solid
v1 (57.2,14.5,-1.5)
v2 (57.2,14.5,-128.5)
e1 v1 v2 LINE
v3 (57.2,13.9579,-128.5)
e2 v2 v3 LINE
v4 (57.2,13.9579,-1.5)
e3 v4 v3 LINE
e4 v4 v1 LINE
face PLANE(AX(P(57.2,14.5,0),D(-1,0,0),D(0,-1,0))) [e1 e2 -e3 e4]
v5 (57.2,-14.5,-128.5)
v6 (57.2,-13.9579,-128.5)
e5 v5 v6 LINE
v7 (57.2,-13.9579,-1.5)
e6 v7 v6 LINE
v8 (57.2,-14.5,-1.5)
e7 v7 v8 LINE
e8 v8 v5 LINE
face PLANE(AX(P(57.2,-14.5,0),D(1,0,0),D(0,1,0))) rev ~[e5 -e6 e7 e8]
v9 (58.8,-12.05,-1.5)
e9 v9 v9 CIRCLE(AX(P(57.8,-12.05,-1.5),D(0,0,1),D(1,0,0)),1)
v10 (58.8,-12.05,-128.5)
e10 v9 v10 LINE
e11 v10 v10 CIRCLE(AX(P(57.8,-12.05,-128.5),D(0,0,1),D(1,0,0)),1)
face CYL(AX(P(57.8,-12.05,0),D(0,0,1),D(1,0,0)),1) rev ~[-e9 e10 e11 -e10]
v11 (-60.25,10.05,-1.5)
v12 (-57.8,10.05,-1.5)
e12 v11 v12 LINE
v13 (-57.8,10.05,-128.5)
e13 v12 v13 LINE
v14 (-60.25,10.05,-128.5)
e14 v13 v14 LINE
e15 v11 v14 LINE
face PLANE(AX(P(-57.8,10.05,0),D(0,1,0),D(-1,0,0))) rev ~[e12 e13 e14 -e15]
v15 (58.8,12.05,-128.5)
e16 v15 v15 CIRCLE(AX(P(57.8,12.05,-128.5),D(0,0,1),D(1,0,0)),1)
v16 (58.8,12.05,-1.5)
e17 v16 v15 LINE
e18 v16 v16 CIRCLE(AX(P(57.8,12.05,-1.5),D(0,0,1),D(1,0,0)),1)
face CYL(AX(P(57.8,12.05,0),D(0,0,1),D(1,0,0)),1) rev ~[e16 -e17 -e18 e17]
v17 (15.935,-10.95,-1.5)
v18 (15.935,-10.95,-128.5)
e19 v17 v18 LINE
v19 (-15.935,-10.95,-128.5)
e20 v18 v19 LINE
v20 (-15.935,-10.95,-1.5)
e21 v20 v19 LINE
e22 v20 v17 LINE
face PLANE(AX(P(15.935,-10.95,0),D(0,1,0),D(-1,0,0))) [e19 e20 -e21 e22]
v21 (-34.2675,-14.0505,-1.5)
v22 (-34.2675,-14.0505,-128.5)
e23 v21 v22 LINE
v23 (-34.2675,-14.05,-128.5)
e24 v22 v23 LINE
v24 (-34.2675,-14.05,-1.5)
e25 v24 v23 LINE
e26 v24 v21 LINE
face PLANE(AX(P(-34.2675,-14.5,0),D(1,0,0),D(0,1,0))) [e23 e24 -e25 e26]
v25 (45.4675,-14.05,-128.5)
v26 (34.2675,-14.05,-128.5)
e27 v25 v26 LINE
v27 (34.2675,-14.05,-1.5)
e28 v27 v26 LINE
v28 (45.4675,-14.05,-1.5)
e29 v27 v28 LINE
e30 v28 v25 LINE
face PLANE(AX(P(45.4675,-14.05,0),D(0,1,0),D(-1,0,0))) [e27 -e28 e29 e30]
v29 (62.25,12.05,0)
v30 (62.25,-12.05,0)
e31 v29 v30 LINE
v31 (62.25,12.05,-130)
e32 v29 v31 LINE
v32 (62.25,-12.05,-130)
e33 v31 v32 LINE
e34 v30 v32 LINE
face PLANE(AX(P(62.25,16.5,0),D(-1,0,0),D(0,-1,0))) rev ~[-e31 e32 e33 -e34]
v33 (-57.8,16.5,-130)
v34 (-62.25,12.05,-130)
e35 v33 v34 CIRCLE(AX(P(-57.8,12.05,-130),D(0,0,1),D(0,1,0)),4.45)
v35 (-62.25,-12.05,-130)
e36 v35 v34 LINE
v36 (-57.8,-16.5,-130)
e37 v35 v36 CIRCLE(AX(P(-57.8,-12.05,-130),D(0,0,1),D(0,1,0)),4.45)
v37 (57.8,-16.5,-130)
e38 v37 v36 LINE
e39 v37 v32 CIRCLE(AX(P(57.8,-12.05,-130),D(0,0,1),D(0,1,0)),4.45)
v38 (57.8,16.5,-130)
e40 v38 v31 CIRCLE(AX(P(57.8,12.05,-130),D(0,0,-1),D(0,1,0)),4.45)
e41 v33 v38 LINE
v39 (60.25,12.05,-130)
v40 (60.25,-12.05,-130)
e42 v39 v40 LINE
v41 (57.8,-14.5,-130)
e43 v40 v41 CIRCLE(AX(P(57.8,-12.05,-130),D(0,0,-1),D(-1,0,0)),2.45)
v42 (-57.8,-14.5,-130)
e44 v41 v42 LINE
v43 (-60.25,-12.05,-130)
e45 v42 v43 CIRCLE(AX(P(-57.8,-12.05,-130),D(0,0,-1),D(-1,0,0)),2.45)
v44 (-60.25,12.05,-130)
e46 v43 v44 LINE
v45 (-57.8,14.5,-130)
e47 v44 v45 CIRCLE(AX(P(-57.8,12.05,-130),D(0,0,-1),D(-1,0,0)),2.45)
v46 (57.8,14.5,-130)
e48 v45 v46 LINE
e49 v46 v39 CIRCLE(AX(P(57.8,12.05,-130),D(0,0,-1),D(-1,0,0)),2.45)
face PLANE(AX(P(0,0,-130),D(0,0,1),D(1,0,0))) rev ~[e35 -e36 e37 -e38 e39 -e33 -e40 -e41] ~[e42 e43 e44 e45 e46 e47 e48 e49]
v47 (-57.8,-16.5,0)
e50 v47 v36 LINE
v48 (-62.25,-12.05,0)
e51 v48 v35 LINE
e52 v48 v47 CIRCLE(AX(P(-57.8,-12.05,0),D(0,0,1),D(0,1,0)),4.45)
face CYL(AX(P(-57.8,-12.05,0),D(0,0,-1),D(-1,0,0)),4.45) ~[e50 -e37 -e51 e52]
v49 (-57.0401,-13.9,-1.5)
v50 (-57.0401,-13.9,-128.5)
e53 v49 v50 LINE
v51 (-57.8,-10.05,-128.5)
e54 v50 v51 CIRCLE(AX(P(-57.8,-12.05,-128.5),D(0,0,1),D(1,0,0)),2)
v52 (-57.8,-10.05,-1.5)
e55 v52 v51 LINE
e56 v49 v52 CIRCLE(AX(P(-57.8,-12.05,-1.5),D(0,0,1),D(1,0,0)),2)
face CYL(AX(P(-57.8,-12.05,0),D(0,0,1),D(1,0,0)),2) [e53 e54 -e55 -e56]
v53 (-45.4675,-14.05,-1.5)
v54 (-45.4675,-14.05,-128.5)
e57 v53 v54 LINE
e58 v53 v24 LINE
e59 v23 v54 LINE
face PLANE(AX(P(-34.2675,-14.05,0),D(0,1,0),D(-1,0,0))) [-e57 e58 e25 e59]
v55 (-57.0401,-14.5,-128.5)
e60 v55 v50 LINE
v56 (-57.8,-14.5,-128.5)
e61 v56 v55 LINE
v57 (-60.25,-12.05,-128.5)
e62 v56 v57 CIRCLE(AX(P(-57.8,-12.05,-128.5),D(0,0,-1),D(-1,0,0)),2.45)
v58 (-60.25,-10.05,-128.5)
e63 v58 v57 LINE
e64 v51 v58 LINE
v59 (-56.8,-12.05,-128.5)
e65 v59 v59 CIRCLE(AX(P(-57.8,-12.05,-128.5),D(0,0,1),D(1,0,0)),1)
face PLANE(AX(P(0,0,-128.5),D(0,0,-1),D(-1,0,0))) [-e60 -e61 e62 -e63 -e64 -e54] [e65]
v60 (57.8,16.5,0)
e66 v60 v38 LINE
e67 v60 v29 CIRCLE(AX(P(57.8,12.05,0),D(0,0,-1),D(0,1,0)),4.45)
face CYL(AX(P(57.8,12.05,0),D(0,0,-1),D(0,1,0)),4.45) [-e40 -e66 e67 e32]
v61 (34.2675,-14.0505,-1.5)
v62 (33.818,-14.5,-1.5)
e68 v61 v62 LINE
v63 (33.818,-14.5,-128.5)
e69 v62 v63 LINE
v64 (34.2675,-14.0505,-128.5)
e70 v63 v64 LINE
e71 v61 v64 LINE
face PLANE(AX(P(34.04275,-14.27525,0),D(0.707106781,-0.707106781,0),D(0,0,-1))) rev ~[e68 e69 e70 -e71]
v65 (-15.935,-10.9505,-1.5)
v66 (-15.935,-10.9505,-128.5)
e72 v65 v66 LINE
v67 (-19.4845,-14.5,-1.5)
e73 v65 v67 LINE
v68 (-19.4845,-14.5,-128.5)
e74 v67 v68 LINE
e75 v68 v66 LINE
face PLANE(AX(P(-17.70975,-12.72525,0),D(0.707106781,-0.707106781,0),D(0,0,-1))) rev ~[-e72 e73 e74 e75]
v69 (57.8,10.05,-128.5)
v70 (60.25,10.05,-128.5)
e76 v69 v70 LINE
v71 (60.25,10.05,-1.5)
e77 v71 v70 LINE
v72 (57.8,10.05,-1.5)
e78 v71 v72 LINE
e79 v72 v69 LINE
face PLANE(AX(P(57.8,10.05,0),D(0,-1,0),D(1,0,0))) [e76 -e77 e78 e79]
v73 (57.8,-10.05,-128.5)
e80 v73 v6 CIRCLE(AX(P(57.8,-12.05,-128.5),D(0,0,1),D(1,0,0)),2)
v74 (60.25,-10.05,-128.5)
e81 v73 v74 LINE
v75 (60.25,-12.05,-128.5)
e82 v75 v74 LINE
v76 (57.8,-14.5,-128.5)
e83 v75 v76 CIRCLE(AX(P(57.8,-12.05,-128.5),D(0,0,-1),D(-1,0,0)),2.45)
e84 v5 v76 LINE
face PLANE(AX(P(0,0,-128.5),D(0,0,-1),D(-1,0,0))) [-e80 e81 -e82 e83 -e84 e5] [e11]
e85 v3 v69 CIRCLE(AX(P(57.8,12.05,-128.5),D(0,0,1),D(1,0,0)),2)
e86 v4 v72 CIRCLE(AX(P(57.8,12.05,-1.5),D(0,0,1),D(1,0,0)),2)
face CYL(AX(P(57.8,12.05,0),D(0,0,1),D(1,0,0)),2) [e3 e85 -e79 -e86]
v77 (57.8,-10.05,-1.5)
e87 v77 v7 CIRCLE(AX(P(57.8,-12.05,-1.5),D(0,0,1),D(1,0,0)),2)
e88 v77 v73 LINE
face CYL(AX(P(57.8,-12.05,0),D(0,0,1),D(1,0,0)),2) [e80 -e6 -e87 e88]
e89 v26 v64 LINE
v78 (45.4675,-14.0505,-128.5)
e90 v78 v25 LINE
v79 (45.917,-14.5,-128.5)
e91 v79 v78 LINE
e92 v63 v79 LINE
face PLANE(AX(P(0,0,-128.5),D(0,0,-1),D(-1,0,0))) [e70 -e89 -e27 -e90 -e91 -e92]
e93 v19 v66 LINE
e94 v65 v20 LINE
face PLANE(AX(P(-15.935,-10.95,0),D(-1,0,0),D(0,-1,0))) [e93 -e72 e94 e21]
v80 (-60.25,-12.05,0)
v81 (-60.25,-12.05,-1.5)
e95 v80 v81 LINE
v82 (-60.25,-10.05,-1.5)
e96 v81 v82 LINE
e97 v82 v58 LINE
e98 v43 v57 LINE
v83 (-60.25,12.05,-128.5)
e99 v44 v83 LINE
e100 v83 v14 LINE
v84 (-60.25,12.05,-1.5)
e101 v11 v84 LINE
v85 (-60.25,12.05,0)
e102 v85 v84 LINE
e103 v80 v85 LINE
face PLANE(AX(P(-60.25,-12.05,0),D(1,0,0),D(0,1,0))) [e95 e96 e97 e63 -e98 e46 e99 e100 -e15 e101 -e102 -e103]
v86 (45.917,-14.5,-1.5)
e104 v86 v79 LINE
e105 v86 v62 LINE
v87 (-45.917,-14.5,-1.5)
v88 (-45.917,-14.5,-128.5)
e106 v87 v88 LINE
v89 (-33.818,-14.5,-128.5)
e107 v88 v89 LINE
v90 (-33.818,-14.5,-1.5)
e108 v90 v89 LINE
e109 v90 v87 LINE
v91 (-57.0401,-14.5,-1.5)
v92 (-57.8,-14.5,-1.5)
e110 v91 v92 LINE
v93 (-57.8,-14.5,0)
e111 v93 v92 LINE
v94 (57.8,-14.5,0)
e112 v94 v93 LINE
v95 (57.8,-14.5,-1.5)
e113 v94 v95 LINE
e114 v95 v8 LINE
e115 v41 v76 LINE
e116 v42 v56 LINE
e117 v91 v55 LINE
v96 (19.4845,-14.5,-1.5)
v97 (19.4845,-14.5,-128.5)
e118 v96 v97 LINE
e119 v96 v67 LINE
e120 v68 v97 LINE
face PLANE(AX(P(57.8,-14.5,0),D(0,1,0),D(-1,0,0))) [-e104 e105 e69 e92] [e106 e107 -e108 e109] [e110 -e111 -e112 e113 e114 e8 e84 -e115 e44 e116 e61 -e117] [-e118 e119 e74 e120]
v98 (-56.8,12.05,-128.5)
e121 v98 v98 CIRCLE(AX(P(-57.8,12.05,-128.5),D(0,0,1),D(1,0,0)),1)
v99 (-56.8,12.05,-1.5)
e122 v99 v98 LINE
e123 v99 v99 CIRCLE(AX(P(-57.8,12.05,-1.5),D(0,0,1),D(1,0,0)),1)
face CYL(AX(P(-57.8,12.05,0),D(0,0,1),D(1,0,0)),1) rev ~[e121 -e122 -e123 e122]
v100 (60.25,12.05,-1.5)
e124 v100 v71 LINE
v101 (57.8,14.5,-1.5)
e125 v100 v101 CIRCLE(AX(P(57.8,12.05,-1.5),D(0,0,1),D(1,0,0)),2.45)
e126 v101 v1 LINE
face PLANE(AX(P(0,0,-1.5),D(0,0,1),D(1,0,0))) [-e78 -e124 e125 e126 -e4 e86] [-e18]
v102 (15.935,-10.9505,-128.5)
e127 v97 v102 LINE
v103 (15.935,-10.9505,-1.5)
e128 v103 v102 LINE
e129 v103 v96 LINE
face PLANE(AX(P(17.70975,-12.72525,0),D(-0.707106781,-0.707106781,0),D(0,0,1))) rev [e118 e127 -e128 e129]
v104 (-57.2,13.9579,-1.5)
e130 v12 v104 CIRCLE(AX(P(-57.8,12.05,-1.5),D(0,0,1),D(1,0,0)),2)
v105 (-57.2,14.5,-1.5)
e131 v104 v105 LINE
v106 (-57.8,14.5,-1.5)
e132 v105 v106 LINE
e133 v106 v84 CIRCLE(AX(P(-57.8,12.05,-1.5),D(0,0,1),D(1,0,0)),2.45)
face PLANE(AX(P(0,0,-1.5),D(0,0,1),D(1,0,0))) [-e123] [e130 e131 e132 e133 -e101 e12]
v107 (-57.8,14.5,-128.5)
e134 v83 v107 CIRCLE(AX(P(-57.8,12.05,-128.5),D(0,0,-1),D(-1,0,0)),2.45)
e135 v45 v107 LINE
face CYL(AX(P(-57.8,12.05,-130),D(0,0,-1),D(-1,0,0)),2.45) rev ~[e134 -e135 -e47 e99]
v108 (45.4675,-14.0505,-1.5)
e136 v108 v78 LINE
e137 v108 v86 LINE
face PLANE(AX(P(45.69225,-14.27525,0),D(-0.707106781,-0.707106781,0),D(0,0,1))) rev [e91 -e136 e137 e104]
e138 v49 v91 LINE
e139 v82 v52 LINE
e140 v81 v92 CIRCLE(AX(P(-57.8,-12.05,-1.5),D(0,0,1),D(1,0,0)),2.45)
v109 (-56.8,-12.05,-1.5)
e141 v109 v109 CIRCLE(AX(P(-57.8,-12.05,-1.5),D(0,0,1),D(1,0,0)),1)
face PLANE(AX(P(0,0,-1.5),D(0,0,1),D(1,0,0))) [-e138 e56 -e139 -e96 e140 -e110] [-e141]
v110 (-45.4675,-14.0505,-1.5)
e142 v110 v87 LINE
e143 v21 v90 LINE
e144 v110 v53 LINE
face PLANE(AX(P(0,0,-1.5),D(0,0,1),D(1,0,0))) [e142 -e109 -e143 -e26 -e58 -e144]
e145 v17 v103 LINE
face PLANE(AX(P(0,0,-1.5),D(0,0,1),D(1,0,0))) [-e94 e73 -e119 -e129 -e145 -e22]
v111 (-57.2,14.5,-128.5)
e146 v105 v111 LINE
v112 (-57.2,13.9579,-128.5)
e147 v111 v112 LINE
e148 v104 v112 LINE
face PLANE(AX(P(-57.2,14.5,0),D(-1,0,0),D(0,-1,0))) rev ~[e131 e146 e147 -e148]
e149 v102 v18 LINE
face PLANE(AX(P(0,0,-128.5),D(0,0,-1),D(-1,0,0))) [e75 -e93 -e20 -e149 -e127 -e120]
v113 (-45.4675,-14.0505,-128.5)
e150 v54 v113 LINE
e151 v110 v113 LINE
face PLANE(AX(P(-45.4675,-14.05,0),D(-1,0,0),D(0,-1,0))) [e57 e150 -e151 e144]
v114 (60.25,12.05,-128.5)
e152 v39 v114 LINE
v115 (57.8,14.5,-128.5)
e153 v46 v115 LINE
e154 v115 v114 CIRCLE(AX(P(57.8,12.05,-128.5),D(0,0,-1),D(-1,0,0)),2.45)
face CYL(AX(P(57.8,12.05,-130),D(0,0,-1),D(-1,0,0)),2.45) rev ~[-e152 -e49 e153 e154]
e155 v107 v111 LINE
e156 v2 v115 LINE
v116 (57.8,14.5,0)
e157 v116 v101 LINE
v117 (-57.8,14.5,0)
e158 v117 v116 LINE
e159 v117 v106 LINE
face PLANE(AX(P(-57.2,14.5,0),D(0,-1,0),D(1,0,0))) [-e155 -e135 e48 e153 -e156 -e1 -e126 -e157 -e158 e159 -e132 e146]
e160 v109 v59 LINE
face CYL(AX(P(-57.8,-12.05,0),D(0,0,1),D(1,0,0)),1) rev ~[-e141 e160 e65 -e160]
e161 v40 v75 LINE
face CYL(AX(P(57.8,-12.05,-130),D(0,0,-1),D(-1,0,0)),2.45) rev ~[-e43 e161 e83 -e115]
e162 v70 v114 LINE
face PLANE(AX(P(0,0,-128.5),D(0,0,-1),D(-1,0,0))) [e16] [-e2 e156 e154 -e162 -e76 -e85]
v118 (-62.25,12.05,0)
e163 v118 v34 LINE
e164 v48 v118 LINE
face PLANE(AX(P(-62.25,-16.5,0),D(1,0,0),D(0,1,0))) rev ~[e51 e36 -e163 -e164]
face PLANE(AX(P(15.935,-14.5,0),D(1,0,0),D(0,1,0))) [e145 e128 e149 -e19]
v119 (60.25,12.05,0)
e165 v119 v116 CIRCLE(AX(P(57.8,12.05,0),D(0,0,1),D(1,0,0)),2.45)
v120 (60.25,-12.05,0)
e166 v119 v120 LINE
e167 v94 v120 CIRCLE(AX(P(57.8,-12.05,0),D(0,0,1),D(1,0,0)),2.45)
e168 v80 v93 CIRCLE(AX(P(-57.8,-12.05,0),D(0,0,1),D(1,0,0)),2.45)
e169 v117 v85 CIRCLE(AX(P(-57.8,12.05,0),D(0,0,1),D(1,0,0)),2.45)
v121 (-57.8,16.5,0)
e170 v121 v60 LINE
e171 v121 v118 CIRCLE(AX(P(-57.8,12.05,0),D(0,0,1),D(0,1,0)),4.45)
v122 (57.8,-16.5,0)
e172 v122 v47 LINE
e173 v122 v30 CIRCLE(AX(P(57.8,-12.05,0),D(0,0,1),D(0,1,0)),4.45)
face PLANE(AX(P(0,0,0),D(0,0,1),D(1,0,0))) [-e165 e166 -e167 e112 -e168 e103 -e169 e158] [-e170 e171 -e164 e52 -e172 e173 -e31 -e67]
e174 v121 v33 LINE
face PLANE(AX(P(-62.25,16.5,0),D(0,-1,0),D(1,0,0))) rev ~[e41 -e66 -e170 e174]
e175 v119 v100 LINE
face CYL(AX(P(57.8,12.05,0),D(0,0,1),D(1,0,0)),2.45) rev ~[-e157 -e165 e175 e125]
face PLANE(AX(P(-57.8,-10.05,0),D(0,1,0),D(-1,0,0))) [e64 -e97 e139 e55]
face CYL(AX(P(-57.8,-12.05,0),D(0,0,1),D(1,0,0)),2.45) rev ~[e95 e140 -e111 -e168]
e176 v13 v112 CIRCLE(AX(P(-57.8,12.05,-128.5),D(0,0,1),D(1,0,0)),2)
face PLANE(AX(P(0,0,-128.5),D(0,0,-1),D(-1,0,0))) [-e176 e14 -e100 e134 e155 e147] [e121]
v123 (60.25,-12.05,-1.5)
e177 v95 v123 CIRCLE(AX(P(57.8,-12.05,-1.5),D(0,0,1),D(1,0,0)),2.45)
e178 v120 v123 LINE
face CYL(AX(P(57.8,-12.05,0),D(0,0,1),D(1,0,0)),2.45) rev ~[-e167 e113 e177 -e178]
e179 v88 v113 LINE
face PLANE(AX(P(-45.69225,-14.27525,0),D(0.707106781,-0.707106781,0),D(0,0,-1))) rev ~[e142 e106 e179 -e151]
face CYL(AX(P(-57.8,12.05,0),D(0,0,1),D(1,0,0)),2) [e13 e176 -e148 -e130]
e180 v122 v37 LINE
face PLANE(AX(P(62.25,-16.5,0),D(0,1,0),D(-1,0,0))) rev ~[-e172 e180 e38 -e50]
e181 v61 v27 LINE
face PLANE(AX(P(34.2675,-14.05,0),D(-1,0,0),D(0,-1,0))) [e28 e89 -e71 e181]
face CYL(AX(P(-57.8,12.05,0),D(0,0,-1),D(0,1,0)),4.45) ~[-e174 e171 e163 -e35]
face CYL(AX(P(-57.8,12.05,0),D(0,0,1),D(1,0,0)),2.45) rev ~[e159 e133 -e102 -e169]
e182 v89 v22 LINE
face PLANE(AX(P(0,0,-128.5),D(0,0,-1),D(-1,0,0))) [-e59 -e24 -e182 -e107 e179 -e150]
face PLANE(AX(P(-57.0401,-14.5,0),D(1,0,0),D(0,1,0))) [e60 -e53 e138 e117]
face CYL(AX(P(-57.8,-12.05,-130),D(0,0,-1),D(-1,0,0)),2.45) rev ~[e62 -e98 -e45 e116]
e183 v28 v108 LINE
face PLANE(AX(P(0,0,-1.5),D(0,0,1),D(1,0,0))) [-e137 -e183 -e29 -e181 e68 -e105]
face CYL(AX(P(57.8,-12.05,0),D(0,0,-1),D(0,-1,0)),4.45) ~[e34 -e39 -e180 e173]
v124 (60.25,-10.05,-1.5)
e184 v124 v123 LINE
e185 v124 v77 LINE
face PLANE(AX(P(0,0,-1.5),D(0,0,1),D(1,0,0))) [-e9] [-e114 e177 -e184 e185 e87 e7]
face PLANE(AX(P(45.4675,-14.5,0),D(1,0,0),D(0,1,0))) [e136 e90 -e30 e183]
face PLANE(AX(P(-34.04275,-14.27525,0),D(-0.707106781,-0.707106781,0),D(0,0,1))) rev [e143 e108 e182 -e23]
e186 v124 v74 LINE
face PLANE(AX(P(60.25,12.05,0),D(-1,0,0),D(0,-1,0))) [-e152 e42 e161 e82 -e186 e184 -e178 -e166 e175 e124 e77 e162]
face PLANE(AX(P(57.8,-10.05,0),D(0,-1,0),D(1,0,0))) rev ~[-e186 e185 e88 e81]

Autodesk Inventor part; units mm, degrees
ref_plane "YZ Plane" through (0, 0, 0) normal (1, 0, 0) x (0, 1, 0)
ref_plane "XZ Plane" through (0, 0, 0) normal (0, 1, 0) x (-1, 0, 0)
ref_plane "XY Plane" through (0, 0, 0) normal (0, 0, 1) x (1, 0, 0)
sketch "Sketch1" plane through (0, 0, 0) normal (0, 0, 1) x (1, 0, 0)
  line L0 (-62.25, 16.5) -> (62.25, 16.5)
  line L1 (62.25, 16.5) -> (62.25, -16.5)
  line L2 (62.25, -16.5) -> (-62.25, -16.5)
  line L3 (-62.25, -16.5) -> (-62.25, 16.5)
  line L4 (-60.25, 14.5) -> (60.25, 14.5)
  line L5 (60.25, 14.5) -> (60.25, -14.5)
  line L6 (60.25, -14.5) -> (-60.25, -14.5)
  line L7 (-60.25, -14.5) -> (-60.25, 14.5)
  point P0 (0, 0)
  dimension "d0" = 124.5
  dimension "d1" = 62.25
  dimension "d2" = 120.5
  dimension "d3" = 60.25
  dimension "d4" = 33
  dimension "d5" = 29
  dimension "d6" = 16.5
  dimension "d7" = 14.5
extrude "Extrusion1" add sketch "Sketch1" against normal blind 130
sketch "Sketch2" plane through (0, 0, 0) normal (0, 0, 1) x (1, 0, 0)
  line L0 (60.25, -14.5) -> (-60.25, -14.5) projected
  line L1 (-15.935, -14.5) -> (15.935, -14.5)
  line L2 (15.935, -14.5) -> (15.935, -10.95)
  line L3 (15.935, -10.95) -> (-15.935, -10.95)
  line L4 (-15.935, -10.95) -> (-15.935, -14.5)
  point P0 (0, 0)
  dimension "d10" = 31.87
  dimension "d11" = 15.935
  dimension "d12" = 3.55
extrude "Extrusion2" add sketch "Sketch2" against normal blind 130
chamfer "Chamfer1" distance 3.55 angle 45 2 edges at (15.935, -14.5, -65) (-15.935, -14.5, -65)
sketch "Sketch3" plane through (0, 0, 0) normal (0, 0, 1) x (1, 0, 0)
  line L0 (-19.485, -14.5) -> (-60.25, -14.5) projected
  line L1 (-45.4675, -14.5) -> (-34.2675, -14.5)
  line L2 (-34.2675, -14.5) -> (-34.2675, -14.05)
  line L3 (-34.2675, -14.05) -> (-45.4675, -14.05)
  line L4 (-45.4675, -14.05) -> (-45.4675, -14.5)
  line L5 (-60.25, 14.5) -> (-60.25, -14.5) projected
  point P0 (0, 0)
  point P1 (-60.25, -14.5)
  dimension "d18" = 40.765
  dimension "d19" = 11.2
  dimension "d20" = 0.45
  dimension "d21" = 14.7825
  dimension "d22" = 14.7825
extrude "Extrusion3" add sketch "Sketch3" against normal blind 130
chamfer "Chamfer2" distance 0.45 angle 45 2 edges at (-45.4675, -14.5, -65) (-34.2675, -14.5, -65)
sketch "Sketch4" plane through (0, 0, 0) normal (0, 0, 1) x (1, 0, 0)
  line L0 (60.25, -14.5) -> (19.485, -14.5) projected
  line L1 (34.2675, -14.5) -> (45.4675, -14.5)
  line L2 (45.4675, -14.5) -> (45.4675, -14.05)
  line L3 (45.4675, -14.05) -> (34.2675, -14.05)
  line L4 (34.2675, -14.05) -> (34.2675, -14.5)
  point P0 (0, 0)
  dimension "d28" = 11.2
  dimension "d29" = 0.45
  dimension "d30" = 14.7825
extrude "Extrusion4" add sketch "Sketch4" against normal blind 130
chamfer "Chamfer3" distance 0.45 angle 45 2 edges at (34.2675, -14.5, -65) (45.4675, -14.5, -65)
sketch "Sketch5" plane through (0, 0, 0) normal (0, 0, 1) x (1, 0, 0)
  circle A0 centre (-57.8, 12.05) radius 2
  circle A1 centre (57.8, 12.05) radius 2
  line L0 (62.25, -16.5) -> (62.25, 16.5) projected
  line L1 (62.25, 16.5) -> (-62.25, 16.5) projected
  line L2 (-62.25, 16.5) -> (-62.25, -16.5) projected
  line L3 (-60.25, 14.5) -> (-60.25, -14.5) projected
  line L4 (-57.8, 10.05) -> (-60.25, 10.05)
  line L5 (-60.25, 10.05) -> (-60.25, 14.5)
  line L6 (-60.25, 14.5) -> (-57.8, 14.5)
  line L7 (-57.8, 14.5) -> (-57.8, 10.05)
  line L8 (-57.8, 14.5) -> (-57.2, 14.5)
  line L9 (-57.2, 14.5) -> (-57.2, 13.9579)
  line L10 (-57.2, 13.9579) -> (-57.8, 13.9579)
  line L11 (-57.8, 13.9579) -> (-57.8, 14.5)
  line L12 (60.25, 14.5) -> (-60.25, 14.5) projected
  line L13 (60.25, 14.5) -> (57.8, 14.5)
  line L14 (57.8, 14.5) -> (57.8, 10.05)
  line L15 (57.8, 10.05) -> (60.25, 10.05)
  line L16 (60.25, 10.05) -> (60.25, 14.5)
  line L17 (57.8, 14.5) -> (57.2, 14.5)
  line L18 (57.2, 14.5) -> (57.2, 13.9579)
  line L19 (57.2, 13.9579) -> (57.8, 13.9579)
  line L20 (57.8, 13.9579) -> (57.8, 14.5)
  circle A2 centre (-57.8, -12.05) radius 2
  circle A3 centre (57.8, -12.05) radius 2
  line L21 (-62.25, -16.5) -> (62.25, -16.5) projected
  line L22 (-57.8, -10.05) -> (-60.25, -10.05)
  line L23 (-60.25, -10.05) -> (-60.25, -14.5)
  line L24 (-60.25, -14.5) -> (-57.8, -14.5)
  line L25 (-57.8, -14.5) -> (-57.8, -10.05)
  line L26 (60.25, 14.5) -> (60.25, -14.5) projected
  line L27 (57.8, -10.05) -> (60.25, -10.05)
  line L28 (60.25, -10.05) -> (60.25, -14.5)
  line L29 (60.25, -14.5) -> (57.8, -14.5)
  line L30 (57.8, -14.5) -> (57.8, -10.05)
  line L31 (57.2, -13.9579) -> (57.8, -13.9579)
  line L32 (57.8, -13.9579) -> (57.8, -14.5)
  line L33 (57.8, -14.5) -> (57.2, -14.5)
  line L34 (57.2, -14.5) -> (57.2, -13.9579)
  line L35 (-57.8, -14.5) -> (-57.0401, -14.5)
  line L36 (-57.0401, -14.5) -> (-57.0401, -13.9)
  line L37 (-57.0401, -13.9) -> (-57.8, -13.9)
  line L38 (-57.8, -13.9) -> (-57.8, -14.5)
  point P0 (0, 0)
  point P1 (-55.8, 12.05)
  point P2 (55.8, 12.05)
  dimension "d36" = 115.6
  dimension "d37" = 4.45
  dimension "d38" = 4.45
  dimension "d39" = 4.45
  dimension "d40" = 4.45
  dimension "d41" = 111.6
  dimension "d42" = 4
  dimension "d43" = 4
  dimension "d44" = 0.6
  dimension "d45" = 4.45
  dimension "d46" = 4.45
  dimension "d47" = 0.6
  dimension "d48" = 4
  dimension "d49" = 4.45
  dimension "d50" = 4.45
  dimension "d51" = 4.45
  dimension "d52" = 4.45
  dimension "d53" = 0.6
  dimension "d54" = 4.45
  dimension "d55" = 4
  dimension "d56" = 0.6
extrude "Extrusion5" add sketch "Sketch5" against normal blind 130 contours A0 L7 L10 | L22 A2 L25 L24 L3 | L26 L29 L30 A3 L27 | L12 L14 A1 L18 | L10 L7 A0 | A0 L7 L8 L9 | L4 L3 L6 L7 A0 | A0 L7 | L12 L16 L15 A1 L14 | L19 L14 A1 | A1 L14 L19 | L25 A2 | A2 L37 L25 | A1 L14 | L25 A2 L36 L35 | L25 L37 A2 | L30 L31 A3 | A3 L30 | L33 L34 A3 L30 | L31 L30 A3
sketch "Sketch6" plane through (0, 0, 0) normal (0, 0, 1) x (1, 0, 0)
  arc A0 (-57.8, 10.05) -> (-57.2, 13.9579) centre (-57.8, 12.05) ccw projected
  arc A1 (-57.0401, -13.9) -> (-57.8, -10.05) centre (-57.8, -12.05) ccw projected
  arc A2 (57.8, -10.05) -> (57.2, -13.9579) centre (57.8, -12.05) ccw projected
  arc A3 (57.2, 13.9579) -> (57.8, 10.05) centre (57.8, 12.05) ccw projected
  circle A4 centre (-57.8, 12.05) radius 1
  circle A5 centre (-57.8, -12.05) radius 1
  circle A6 centre (57.8, -12.05) radius 1
  circle A7 centre (57.8, 12.05) radius 1
  point P0 (0, 0)
  dimension "d59" = 2
  dimension "d60" = 2
  dimension "d61" = 2
  dimension "d62" = 2
extrude "Extrusion6" cut sketch "Sketch6" against normal blind 130
fillet "Fillet1" radius 4.45 4 edges at (-62.25, 16.5, -65) (-62.25, -16.5, -65) (62.25, -16.5, -65) (62.25, 16.5, -65)
sketch "Sketch7" plane through (0, 0, 0) normal (0, 0, 1) x (1, 0, 0)
  line L0 (-60.25, 14.5) -> (60.25, 14.5)
  line L1 (60.25, 14.5) -> (60.25, -14.5)
  line L2 (60.25, -14.5) -> (-60.25, -14.5)
  line L3 (-60.25, -14.5) -> (-60.25, 14.5)
  line L4 (-57.2, 14.5) -> (57.2, 14.5) projected
  line L5 (60.25, 10.05) -> (60.25, -10.05) projected
  line L6 (33.8175, -14.5) -> (19.485, -14.5) projected
  line L7 (-60.25, -10.05) -> (-60.25, 10.05) projected
  arc A0 (-57.8, 10.05) -> (-57.2, 13.9579) centre (-57.8, 12.05) ccw projected
  circle A1 centre (-57.8, 12.05) radius 2.45
  arc A2 (-57.0401, -13.9) -> (-57.8, -10.05) centre (-57.8, -12.05) ccw projected
  circle A3 centre (-57.8, -12.05) radius 2.45
  circle A4 centre (57.8, -12.05) radius 1 projected
  circle A5 centre (57.8, -12.05) radius 2.45
  circle A6 centre (57.8, 12.05) radius 1 projected
  circle A7 centre (57.8, 12.05) radius 2.45
  point P0 (0, 0)
  point P1 (57.8, 14.5)
  point P2 (-57.8, 14.5)
  point P3 (-60.25, 12.05)
  point P4 (-60.25, -12.05)
  point P5 (-57.8, -14.5)
  point P6 (57.8, -14.5)
  point P7 (60.25, -12.05)
  point P8 (60.25, 12.05)
extrude "Extrusion7" cut sketch "Sketch7" against normal blind 1.5 contours L0 A7 L1 A5 L2 A3 L3 A1 | A1 | A7 | A3 | A5 | A4 | A6
sketch "Sketch8" plane through (0, 0, -130) normal (0, 0, -1) x (-1, 0, 0)
  line L0 (-60.25, 14.5) -> (60.25, 14.5)
  line L1 (60.25, 14.5) -> (60.25, -14.5)
  line L2 (60.25, -14.5) -> (-60.25, -14.5)
  line L3 (-60.25, -14.5) -> (-60.25, 14.5)
  line L4 (-57.2, 14.5) -> (57.2, 14.5) projected
  line L5 (60.25, 10.05) -> (60.25, -10.05) projected
  line L6 (33.8175, -14.5) -> (19.485, -14.5) projected
  line L7 (-60.25, -10.05) -> (-60.25, 10.05) projected
  circle A0 centre (-57.8, 12.05) radius 1 projected
  circle A1 centre (-57.8, 12.05) radius 2.45
  line L8 (57.8, 14.5) -> (-57.8, 14.5) projected
  circle A2 centre (-57.8, -12.05) radius 1 projected
  circle A3 centre (-57.8, -12.05) radius 2.45
  circle A4 centre (57.8, -12.05) radius 1 projected
  line L9 (-57.8, -14.5) -> (57.8, -14.5) projected
  circle A5 centre (57.8, -12.05) radius 2.45
  circle A6 centre (57.8, 12.05) radius 1 projected
  circle A7 centre (57.8, 12.05) radius 2.45
  point P0 (0, 0)
  point P1 (-60.25, 12.05)
  point P2 (-60.25, -12.05)
  point P3 (-57.8, -14.5)
  point P4 (60.25, -12.05)
  point P5 (60.25, 12.05)
extrude "Extrusion8" cut sketch "Sketch8" against normal blind 1.5 contours L0 A7 L1 A5 L2 A3 L3 A1 | A1 | A7 | A3 | A5 | A0 | A2 | A4 | A6
properties part number "case_dummy"
